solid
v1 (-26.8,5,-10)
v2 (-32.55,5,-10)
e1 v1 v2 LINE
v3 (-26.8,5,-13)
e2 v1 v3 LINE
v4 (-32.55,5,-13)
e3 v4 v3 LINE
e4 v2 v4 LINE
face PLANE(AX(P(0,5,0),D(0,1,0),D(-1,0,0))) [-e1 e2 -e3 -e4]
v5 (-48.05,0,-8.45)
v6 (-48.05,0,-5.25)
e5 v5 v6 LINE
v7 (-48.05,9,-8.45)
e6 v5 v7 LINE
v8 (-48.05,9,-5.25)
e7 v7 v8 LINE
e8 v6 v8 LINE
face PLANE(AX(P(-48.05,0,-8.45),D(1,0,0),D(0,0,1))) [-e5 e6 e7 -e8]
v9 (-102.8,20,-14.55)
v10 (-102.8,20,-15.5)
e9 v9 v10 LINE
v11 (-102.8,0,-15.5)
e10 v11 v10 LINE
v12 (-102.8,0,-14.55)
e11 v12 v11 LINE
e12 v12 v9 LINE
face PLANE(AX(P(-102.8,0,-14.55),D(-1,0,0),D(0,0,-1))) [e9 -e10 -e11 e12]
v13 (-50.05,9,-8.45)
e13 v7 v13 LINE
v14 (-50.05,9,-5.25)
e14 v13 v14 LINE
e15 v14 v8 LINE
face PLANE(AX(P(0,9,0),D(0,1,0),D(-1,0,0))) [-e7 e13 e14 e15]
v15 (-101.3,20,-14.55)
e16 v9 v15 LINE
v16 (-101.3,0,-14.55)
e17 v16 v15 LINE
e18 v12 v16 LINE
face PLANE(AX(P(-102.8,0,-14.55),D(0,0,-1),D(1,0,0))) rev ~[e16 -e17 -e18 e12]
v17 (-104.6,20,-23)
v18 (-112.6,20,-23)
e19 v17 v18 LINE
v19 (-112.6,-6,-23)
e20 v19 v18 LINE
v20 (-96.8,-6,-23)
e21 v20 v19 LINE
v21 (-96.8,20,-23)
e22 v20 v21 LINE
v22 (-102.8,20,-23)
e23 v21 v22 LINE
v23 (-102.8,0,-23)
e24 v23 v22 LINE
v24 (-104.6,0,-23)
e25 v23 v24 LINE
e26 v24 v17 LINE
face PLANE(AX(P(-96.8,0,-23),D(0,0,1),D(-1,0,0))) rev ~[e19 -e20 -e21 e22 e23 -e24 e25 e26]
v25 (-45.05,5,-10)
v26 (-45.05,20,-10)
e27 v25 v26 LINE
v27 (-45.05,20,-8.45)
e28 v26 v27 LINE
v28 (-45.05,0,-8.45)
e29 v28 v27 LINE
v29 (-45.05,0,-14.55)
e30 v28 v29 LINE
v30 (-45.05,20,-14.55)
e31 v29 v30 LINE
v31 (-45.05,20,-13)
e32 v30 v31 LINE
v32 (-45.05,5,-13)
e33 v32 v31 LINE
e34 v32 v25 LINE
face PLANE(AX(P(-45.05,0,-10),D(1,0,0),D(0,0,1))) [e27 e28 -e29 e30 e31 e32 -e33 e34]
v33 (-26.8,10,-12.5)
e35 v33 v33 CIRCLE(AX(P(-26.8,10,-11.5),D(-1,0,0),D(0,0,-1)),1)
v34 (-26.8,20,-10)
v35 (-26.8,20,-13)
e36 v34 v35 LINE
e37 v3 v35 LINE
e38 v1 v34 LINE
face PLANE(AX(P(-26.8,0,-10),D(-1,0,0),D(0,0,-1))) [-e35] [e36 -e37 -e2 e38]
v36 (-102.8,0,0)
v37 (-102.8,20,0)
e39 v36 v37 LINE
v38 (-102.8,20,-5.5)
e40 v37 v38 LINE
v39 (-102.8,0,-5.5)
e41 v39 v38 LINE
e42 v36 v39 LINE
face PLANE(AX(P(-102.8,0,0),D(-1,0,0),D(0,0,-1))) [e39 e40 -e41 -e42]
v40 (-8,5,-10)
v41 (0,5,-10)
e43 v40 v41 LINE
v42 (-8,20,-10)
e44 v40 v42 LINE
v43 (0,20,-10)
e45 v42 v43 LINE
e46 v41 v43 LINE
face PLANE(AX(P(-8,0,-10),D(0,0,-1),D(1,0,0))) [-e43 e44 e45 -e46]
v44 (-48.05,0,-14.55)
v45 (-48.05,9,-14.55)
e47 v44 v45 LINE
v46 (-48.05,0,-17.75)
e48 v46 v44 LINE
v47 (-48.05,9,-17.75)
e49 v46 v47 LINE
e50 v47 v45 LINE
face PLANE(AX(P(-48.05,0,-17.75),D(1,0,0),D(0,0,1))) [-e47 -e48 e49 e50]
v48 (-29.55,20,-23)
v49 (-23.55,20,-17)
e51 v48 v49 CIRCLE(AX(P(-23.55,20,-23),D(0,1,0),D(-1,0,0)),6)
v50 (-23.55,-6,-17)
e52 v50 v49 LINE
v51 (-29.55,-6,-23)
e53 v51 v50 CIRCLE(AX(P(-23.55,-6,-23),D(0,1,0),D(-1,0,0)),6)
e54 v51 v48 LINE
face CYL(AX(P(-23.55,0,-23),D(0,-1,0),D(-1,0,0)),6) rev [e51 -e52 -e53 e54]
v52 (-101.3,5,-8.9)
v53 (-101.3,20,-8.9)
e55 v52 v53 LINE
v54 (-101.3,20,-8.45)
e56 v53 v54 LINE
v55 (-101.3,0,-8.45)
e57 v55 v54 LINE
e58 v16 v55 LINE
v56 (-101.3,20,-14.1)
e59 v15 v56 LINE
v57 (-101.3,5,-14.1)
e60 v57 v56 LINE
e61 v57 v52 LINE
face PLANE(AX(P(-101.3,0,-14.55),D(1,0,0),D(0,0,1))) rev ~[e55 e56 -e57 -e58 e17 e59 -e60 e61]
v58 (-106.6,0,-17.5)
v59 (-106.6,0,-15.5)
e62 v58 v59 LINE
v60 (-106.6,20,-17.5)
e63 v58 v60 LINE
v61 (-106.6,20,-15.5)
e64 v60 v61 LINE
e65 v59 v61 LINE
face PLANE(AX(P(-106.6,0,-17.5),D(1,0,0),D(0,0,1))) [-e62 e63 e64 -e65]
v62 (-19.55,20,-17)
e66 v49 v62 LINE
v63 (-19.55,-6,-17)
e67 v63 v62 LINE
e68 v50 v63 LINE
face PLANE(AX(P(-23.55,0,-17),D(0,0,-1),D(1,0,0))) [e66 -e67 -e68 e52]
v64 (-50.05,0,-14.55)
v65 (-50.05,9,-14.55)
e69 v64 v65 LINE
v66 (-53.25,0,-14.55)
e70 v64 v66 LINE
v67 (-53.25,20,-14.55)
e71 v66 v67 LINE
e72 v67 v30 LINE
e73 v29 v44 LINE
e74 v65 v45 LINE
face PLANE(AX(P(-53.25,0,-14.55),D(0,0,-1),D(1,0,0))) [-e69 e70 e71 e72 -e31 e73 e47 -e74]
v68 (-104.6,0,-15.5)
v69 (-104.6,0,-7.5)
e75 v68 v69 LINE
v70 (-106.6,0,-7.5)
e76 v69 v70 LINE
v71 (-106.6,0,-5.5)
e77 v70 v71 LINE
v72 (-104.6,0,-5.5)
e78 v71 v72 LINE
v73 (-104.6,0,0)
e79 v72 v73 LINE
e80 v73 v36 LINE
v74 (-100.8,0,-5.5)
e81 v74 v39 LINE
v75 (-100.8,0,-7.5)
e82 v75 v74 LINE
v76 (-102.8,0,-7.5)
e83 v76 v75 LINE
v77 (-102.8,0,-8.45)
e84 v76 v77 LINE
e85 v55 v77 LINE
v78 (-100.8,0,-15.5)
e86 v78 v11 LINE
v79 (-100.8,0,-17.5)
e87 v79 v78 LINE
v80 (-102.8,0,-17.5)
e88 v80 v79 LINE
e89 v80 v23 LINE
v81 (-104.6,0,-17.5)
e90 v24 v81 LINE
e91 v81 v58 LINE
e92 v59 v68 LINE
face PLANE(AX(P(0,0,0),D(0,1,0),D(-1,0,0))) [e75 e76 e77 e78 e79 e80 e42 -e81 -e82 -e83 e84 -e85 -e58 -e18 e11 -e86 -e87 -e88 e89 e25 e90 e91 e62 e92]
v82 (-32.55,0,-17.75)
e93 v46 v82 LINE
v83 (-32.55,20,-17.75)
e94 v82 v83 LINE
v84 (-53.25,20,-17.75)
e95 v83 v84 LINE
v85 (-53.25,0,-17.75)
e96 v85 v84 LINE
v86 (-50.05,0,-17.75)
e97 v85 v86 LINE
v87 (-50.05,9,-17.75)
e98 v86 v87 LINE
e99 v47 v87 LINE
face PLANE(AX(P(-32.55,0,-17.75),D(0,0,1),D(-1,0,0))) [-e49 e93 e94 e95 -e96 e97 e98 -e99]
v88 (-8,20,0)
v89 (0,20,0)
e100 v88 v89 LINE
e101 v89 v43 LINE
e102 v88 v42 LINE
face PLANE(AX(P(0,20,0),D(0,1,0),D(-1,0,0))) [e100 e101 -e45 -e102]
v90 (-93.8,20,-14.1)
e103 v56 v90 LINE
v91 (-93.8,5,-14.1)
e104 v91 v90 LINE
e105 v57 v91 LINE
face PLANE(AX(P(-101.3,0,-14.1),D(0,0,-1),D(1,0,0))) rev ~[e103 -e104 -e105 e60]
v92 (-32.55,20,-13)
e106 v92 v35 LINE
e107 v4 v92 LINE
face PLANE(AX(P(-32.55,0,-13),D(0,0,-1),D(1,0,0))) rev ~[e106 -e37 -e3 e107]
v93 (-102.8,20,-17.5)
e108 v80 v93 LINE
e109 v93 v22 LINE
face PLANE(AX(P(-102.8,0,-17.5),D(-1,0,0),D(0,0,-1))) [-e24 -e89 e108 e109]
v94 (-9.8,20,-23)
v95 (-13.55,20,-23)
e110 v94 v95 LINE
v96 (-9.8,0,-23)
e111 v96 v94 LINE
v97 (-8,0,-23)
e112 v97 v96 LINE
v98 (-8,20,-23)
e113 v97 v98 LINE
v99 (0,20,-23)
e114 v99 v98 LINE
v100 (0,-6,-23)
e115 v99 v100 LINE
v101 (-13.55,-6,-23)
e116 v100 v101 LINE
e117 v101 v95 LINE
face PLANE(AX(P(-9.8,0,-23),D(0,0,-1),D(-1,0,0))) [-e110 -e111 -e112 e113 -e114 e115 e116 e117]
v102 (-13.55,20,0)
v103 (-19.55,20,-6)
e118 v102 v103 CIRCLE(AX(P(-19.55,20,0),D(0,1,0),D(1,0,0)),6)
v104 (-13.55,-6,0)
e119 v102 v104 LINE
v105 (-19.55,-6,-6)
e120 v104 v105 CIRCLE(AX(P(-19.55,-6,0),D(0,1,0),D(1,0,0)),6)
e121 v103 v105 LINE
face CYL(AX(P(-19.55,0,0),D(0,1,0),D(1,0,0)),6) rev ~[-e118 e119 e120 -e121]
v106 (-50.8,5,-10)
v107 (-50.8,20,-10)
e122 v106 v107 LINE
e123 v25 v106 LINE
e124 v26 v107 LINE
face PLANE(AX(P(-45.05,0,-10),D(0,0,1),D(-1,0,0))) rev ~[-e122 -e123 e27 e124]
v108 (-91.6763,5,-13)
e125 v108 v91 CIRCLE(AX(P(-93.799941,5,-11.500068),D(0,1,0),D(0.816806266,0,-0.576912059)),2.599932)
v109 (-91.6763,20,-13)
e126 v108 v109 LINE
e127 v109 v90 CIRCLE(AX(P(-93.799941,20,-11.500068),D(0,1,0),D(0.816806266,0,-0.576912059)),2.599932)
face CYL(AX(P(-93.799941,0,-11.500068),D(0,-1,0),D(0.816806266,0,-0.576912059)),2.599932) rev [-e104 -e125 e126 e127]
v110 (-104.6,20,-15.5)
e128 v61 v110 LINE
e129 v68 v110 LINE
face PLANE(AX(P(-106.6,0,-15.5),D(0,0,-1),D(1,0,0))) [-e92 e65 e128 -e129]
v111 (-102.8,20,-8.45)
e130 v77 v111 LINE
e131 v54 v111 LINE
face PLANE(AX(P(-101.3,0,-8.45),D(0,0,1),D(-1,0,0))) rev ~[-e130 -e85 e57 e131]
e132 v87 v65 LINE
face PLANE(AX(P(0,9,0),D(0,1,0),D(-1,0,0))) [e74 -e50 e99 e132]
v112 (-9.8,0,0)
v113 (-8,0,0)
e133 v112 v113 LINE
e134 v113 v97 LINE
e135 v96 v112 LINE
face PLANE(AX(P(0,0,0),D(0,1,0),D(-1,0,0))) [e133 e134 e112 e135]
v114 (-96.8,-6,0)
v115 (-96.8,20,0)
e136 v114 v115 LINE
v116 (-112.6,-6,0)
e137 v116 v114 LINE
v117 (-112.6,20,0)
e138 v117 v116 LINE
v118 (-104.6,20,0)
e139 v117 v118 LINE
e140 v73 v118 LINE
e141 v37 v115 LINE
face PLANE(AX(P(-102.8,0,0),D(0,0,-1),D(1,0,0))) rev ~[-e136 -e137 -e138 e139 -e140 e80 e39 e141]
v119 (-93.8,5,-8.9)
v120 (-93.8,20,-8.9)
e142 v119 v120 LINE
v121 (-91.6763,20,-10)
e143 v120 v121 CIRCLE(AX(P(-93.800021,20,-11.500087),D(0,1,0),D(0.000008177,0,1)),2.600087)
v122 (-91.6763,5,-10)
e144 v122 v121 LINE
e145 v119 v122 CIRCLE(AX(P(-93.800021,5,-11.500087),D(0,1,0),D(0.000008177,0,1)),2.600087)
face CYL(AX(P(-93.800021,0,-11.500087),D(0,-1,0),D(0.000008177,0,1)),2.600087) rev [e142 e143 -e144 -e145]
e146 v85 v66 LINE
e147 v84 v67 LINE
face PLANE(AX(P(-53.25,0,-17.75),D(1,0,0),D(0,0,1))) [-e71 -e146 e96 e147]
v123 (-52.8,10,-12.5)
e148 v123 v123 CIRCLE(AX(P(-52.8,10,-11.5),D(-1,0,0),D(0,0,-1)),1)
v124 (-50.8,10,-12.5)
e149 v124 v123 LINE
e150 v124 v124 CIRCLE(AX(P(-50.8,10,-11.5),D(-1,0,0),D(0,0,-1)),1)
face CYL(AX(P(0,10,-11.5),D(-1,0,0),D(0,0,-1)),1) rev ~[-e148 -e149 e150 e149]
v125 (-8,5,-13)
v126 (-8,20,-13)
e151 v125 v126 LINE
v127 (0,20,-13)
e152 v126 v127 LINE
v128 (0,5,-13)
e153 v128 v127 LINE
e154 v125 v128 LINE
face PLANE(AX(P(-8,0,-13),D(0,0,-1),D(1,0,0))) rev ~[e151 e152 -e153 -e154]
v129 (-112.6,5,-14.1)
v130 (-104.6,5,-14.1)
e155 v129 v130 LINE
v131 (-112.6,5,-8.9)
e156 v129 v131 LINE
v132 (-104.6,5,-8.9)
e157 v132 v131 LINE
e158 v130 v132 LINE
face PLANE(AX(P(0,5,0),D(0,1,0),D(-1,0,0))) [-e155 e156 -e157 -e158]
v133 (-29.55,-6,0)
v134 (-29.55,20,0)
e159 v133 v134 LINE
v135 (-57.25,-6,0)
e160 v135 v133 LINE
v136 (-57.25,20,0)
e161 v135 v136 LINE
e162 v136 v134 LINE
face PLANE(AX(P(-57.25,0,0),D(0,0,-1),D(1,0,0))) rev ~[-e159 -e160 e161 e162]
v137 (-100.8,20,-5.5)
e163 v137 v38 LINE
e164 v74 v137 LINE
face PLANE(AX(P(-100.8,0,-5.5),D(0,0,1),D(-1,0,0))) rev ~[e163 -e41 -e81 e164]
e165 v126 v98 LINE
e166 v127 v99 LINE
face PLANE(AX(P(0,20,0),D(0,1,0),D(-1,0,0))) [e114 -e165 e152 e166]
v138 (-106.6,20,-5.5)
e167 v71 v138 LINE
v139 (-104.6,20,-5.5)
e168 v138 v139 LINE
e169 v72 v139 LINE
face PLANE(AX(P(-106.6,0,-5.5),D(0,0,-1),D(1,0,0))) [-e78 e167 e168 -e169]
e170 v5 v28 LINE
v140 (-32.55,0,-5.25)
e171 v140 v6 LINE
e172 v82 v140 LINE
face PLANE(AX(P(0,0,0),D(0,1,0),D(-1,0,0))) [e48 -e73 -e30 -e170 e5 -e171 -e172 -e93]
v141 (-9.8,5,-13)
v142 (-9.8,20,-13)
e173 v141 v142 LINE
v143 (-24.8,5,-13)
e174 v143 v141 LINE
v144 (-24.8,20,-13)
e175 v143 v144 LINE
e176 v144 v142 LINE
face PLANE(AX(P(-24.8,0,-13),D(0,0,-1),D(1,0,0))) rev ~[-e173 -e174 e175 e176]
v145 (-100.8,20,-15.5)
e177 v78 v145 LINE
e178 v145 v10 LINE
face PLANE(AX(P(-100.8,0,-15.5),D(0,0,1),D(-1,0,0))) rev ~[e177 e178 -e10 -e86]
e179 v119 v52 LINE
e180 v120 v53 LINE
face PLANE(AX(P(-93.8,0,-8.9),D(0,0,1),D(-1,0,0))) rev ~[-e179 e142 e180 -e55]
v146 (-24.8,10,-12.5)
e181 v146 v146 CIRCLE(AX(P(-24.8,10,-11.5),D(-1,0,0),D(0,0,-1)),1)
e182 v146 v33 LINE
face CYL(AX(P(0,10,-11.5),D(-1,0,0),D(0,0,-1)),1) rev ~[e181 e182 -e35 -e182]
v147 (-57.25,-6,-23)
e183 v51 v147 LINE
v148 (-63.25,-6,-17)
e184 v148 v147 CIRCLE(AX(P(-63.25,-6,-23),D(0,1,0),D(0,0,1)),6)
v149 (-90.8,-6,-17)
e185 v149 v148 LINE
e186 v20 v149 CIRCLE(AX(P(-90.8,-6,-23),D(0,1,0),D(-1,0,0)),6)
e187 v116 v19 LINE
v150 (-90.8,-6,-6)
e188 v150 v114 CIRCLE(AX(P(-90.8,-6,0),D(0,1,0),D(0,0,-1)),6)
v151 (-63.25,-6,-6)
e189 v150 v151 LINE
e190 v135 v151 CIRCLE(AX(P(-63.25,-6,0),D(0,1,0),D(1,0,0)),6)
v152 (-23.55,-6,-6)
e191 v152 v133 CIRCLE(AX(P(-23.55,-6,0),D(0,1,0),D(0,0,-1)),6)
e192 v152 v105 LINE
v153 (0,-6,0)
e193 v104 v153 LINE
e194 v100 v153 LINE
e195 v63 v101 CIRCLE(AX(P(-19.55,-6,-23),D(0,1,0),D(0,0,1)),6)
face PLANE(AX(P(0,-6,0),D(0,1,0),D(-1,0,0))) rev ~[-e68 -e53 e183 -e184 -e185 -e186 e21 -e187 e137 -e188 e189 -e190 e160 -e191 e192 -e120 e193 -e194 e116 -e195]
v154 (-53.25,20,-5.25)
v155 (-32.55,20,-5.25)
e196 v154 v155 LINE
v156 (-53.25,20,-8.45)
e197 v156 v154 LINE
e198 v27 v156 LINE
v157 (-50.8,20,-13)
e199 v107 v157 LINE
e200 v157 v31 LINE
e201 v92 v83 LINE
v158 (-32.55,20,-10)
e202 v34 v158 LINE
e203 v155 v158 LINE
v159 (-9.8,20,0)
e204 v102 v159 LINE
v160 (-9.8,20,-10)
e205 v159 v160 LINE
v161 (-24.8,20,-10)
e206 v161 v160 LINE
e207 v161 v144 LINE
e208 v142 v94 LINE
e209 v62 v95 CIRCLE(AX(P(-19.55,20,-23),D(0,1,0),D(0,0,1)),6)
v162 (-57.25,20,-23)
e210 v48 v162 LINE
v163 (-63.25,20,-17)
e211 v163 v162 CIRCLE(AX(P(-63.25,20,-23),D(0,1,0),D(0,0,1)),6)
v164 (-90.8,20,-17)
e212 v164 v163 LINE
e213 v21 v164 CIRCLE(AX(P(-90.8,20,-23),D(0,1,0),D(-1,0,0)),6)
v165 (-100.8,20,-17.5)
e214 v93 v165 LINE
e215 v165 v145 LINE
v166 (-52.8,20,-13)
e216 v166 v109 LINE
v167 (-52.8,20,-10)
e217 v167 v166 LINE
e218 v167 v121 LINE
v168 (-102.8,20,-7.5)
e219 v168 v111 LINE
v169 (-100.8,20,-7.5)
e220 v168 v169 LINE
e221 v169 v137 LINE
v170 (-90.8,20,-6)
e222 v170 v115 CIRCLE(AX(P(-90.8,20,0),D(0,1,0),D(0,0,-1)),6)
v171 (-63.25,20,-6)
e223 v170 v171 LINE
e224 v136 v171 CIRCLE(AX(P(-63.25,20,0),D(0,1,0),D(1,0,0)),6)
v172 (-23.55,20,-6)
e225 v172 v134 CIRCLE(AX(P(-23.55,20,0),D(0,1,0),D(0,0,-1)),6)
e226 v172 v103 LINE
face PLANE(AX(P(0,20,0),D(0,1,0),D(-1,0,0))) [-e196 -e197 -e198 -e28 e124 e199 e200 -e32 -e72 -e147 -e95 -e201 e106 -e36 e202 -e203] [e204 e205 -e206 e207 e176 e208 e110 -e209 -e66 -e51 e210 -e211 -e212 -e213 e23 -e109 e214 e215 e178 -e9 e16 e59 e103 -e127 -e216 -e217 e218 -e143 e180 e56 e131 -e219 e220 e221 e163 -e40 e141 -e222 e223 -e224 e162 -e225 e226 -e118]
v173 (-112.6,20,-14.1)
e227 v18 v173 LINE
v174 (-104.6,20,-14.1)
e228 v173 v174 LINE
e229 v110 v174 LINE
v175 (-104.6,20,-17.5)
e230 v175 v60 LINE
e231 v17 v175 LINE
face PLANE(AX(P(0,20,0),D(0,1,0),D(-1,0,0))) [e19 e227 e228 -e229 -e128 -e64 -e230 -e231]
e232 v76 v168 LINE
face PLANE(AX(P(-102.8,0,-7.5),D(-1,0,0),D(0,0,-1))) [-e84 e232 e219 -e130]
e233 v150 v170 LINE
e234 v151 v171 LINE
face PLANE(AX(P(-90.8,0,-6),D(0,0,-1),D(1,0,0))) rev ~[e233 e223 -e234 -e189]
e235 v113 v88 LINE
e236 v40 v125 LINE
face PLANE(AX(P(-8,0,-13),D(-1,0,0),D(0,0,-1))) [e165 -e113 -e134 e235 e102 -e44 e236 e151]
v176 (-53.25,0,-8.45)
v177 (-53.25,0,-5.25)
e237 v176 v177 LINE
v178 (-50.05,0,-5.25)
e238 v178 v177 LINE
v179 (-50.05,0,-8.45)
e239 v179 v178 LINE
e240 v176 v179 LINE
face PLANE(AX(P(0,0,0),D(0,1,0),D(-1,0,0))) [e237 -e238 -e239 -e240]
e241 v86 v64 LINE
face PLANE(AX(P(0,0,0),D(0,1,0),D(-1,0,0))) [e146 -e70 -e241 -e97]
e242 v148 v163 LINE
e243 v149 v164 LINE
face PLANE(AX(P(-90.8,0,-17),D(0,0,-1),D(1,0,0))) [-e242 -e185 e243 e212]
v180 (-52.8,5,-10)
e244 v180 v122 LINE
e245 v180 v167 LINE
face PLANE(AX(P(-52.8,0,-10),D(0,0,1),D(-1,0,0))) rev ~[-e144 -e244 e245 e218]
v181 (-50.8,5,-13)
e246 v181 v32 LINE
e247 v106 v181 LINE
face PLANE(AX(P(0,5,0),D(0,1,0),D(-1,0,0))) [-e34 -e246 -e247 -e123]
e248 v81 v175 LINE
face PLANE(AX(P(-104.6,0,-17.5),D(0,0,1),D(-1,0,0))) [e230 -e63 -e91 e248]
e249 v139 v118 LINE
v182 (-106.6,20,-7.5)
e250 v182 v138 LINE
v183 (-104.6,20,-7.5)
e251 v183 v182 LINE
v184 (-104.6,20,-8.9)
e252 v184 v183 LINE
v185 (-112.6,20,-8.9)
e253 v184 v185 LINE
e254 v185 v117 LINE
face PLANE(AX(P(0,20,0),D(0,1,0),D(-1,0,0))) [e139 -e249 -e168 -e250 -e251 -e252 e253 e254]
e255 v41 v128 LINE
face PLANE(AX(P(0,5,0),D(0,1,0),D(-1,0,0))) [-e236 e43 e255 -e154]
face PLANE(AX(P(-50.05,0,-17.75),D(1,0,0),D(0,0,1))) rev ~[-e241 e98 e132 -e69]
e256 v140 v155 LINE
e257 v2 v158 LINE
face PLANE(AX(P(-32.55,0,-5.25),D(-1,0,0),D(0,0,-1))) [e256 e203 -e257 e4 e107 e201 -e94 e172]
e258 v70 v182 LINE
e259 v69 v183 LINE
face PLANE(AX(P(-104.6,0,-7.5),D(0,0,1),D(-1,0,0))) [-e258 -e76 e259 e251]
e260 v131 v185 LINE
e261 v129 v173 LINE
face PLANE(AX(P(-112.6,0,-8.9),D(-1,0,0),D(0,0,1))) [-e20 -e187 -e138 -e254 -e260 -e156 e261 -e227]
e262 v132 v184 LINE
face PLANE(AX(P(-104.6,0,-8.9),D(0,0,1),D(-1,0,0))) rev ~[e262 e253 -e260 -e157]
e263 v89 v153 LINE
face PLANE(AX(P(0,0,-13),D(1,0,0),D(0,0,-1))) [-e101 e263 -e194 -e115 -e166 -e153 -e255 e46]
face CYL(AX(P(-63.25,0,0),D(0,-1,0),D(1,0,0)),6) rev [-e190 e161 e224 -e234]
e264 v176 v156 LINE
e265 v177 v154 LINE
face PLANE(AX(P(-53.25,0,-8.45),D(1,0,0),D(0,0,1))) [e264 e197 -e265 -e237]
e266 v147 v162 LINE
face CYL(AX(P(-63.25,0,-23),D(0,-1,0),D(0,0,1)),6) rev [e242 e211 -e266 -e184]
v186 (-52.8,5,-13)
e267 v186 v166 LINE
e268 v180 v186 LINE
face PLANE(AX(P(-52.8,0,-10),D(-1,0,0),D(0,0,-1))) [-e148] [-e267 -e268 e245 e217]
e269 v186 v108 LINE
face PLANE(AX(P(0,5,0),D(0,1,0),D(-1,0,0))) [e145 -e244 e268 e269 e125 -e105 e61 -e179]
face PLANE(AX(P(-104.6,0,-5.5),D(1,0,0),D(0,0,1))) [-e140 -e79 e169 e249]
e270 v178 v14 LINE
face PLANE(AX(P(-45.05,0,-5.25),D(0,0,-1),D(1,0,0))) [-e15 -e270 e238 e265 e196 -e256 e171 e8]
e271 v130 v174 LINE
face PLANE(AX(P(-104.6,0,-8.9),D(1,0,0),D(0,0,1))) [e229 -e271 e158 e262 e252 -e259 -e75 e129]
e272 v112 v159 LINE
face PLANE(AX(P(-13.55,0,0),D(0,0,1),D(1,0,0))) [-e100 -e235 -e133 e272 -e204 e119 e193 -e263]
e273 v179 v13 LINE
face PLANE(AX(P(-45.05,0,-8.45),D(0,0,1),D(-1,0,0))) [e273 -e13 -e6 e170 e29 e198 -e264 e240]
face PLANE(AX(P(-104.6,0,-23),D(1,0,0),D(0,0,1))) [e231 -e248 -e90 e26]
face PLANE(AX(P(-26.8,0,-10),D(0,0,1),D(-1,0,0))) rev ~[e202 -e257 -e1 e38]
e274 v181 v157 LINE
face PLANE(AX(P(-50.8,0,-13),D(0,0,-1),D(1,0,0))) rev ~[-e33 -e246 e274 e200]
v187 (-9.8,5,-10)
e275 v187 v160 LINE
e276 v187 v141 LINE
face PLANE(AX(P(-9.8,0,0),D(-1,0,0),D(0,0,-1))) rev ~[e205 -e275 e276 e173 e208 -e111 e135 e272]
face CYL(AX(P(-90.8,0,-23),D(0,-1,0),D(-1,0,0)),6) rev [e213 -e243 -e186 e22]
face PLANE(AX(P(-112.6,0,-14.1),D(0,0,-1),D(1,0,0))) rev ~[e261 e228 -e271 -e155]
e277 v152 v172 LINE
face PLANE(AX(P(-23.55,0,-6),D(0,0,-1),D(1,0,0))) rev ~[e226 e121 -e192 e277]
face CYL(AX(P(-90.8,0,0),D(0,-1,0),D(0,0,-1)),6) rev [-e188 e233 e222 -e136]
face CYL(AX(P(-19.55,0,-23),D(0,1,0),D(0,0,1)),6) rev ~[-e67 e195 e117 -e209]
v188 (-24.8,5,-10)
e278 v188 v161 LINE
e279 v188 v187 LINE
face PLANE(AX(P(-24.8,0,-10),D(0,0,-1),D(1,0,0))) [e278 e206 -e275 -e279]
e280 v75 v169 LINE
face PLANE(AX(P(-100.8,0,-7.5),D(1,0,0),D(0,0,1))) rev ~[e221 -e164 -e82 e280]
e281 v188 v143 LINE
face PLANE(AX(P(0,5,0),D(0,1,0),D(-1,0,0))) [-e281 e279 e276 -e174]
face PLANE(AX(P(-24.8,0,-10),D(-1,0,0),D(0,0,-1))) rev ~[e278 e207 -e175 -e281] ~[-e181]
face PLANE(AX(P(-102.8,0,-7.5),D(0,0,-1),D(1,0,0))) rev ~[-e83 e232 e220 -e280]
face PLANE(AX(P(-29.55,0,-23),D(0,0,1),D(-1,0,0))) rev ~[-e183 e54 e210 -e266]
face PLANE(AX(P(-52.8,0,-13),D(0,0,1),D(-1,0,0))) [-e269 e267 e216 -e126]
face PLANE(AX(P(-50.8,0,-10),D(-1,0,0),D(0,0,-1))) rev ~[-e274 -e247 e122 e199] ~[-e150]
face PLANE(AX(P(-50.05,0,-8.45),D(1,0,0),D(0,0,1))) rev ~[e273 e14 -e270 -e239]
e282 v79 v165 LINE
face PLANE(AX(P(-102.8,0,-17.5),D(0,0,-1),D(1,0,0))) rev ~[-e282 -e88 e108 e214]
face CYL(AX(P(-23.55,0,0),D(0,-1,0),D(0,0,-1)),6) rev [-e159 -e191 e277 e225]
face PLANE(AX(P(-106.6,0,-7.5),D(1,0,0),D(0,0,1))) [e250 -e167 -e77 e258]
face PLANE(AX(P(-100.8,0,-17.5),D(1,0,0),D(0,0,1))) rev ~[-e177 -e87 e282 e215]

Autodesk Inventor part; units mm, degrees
ref_plane "YZ Plane" through (0, 0, 0) normal (1, 0, 0) x (0, 1, 0)
ref_plane "XZ Plane" through (0, 0, 0) normal (0, 1, 0) x (-1, 0, 0)
ref_plane "XY Plane" through (0, 0, 0) normal (0, 0, 1) x (1, 0, 0)
sketch "Sketch1" plane through (0, 0, 0) normal (0, 1, 0) x (-1, 0, 0)
  line L0 (45.05, -5.25) -> (32.55, -5.25)
  line L1 (32.55, -5.25) -> (32.55, -17.75)
  line L2 (32.55, -17.75) -> (45.05, -17.75)
  line L3 (45.05, -17.75) -> (45.05, -5.25)
  line L4 (0, 0) -> (0, -23)
  line L5 (112.6, -23) -> (112.6, 0)
  line L6 (77.3838, -11.5) -> (49.3838, -11.5) construction
  line L7 (38.8, -2.0322) -> (38.8, -23.0322) construction
  line L8 (93.8, -8.9) -> (112.6, -8.9)
  line L9 (112.6, -14.1) -> (93.8, -14.1)
  line L10 (9.8, 0) -> (9.8, -23)
  line L11 (8, 0) -> (8, -23)
  line L12 (24.8, -10) -> (0, -10)
  line L13 (24.8, -13) -> (0, -13)
  line L14 (102.8, -14.55) -> (101.3, -14.55)
  line L15 (101.3, -14.55) -> (101.3, -8.45)
  line L16 (101.3, -8.45) -> (102.8, -8.45)
  line L17 (50.8, -10) -> (50.8, -13)
  line L18 (50.8, -13) -> (45.05, -13)
  line L19 (45.05, -10) -> (50.8, -10)
  line L20 (32.55, -13) -> (26.8, -13)
  line L21 (26.8, -10) -> (32.55, -10)
  line L22 (102.8, -17.5) -> (100.8, -17.5)
  line L23 (100.8, -17.5) -> (100.8, -15.5)
  line L24 (100.8, -15.5) -> (102.8, -15.5)
  line L25 (102.8, -7.5) -> (100.8, -7.5)
  line L26 (100.8, -7.5) -> (100.8, -5.5)
  line L27 (100.8, -5.5) -> (102.8, -5.5)
  line L28 (137, -16.5) -> (122.5716, -16.5) construction
  line L29 (137, -6.5) -> (123, -6.5) construction
  line L30 (104.6, -17.5) -> (106.6, -17.5)
  line L31 (106.6, -17.5) -> (106.6, -15.5)
  line L32 (106.6, -15.5) -> (104.6, -15.5)
  line L33 (104.6, -7.5) -> (106.6, -7.5)
  line L34 (106.6, -7.5) -> (106.6, -5.5)
  line L35 (106.6, -5.5) -> (104.6, -5.5)
  line L36 (104.6, -23) -> (104.6, -17.5)
  line L37 (102.8, -17.5) -> (102.8, -23)
  line L38 (104.6, -15.5) -> (104.6, -7.5)
  line L39 (104.6, -5.5) -> (104.6, 0)
  line L40 (102.8, 0) -> (102.8, -5.5)
  line L41 (102.8, -7.5) -> (102.8, -15.5)
  line L42 (45.05, -17.75) -> (53.25, -17.75)
  line L43 (53.25, -17.75) -> (53.25, -14.55)
  line L44 (53.25, -14.55) -> (45.05, -14.55)
  line L45 (45.05, -8.45) -> (53.25, -8.45)
  line L46 (53.25, -8.45) -> (53.25, -5.25)
  line L47 (53.25, -5.25) -> (45.05, -5.25)
  line L48 (48.05, -17.75) -> (48.05, -14.55)
  line L49 (50.05, -17.75) -> (50.05, -14.55)
  line L50 (50.05, -8.45) -> (50.05, -5.25)
  line L51 (48.05, -8.45) -> (48.05, -5.25)
  line L52 (52.8, -10) -> (52.8, -13)
  line L53 (26.8, -10) -> (26.8, -13)
  line L54 (24.8, -10) -> (24.8, -13)
  line L55 (52.8, -13) -> (91.6763, -13)
  line L56 (52.8, -10) -> (91.6763, -10)
  arc A0 (93.8, -8.9) -> (91.6763, -10) centre (93.8, -11.5) ccw
  arc A1 (91.6763, -13) -> (93.8, -14.1) centre (93.8, -11.5) ccw
  arc A2 (96.8, -23) -> (90.8, -17) centre (90.8, -23) ccw
  arc A3 (63.25, -17) -> (57.25, -23) centre (63.25, -23) ccw
  arc A4 (90.8, -6) -> (96.8, 0) centre (90.8, 0) ccw
  arc A5 (57.25, 0) -> (63.25, -6) centre (63.25, 0) ccw
  line L57 (90.8, -17) -> (63.25, -17)
  line L58 (90.8, -6) -> (63.25, -6)
  line L59 (112.6, 0) -> (96.8, 0)
  line L60 (96.8, -23) -> (112.6, -23)
  arc A6 (29.55, -23) -> (23.55, -17) centre (23.55, -23) ccw
  arc A7 (23.55, -6) -> (29.55, 0) centre (23.55, 0) ccw
  arc A8 (19.55, -17) -> (13.55, -23) centre (19.55, -23) ccw
  arc A9 (13.55, 0) -> (19.55, -6) centre (19.55, 0) ccw
  line L61 (23.55, -6) -> (19.55, -6)
  line L62 (23.55, -17) -> (19.55, -17)
  line L63 (0, -23) -> (13.55, -23)
  line L64 (29.55, -23) -> (57.25, -23)
  line L65 (57.25, 0) -> (29.55, 0)
  line L66 (13.55, 0) -> (0, 0)
  line L67 (115.3, -25) -> (115.3, 2)
  line L68 (-2.7, 2) -> (-2.7, -25)
  arc A10 (65.25, -19) -> (59.25, -25) centre (65.25, -25) ccw
  arc A11 (94.8, -25) -> (88.8, -19) centre (88.8, -25) ccw
  line L69 (56.3, -20.25) -> (56.3, -1) construction
  arc A12 (59.25, 2) -> (65.25, -4) centre (65.25, 2) ccw
  arc A13 (88.8, -4) -> (94.8, 2) centre (88.8, 2) ccw
  arc A14 (15.55, 2) -> (27.55, 2) centre (21.55, 2) ccw
  arc A15 (27.55, -25) -> (15.55, -25) centre (21.55, -25) ccw
  line L70 (88.8, -19) -> (65.25, -19)
  line L71 (88.8, -4) -> (65.25, -4)
  line L72 (115.3, 2) -> (94.8, 2)
  line L73 (94.8, -25) -> (115.3, -25)
  line L74 (-2.7, -25) -> (15.55, -25)
  line L75 (27.55, -25) -> (59.25, -25)
  line L76 (59.25, 2) -> (27.55, 2)
  line L77 (15.55, 2) -> (-2.7, 2)
  point P0 (104.6, -8.9)
  point P1 (104.6, -14.1)
  point P2 (102.8, -8.9)
  point P3 (102.8, -14.1)
  point P4 (9.8, -13)
  point P5 (8, -13)
  point P6 (8, -10)
  point P7 (9.8, -10)
  point P8 (38.8, -11.5)
  point P9 (101.3, -14.1)
  point P10 (101.3, -8.9)
  dimension "d0" = 12.5
  dimension "d1" = 12.5
  dimension "d3" = 23
  dimension "d12" = 5.2
  dimension "d20" = 1.8
  dimension "d25" = 3
  dimension "d36" = 6.1
  dimension "d37" = 1.5
  dimension "d62" = 3
  dimension "d63" = 3
  dimension "d94" = 2
  dimension "d95" = 2
  dimension "d96" = 10
  dimension "d97" = 1.8
  dimension "d106" = 8.2
  dimension "d107" = 3
  dimension "d108" = 2
  dimension "d109" = 3.2
  dimension "d113" = 1.5
  dimension "d114" = 2
  dimension "d115" = 64
  dimension "d116" = 29
  dimension "d117" = 8
  dimension "d118" = 8
  dimension "d119" = 2
  dimension "d120" = 12
  dimension "d121" = 12
  dimension "d122" = 9
  dimension "d129" = 12
  dimension "d130" = 12
  dimension "d131" = 10
  dimension "d134" = 9
  dimension "d135" = 4
  dimension "d149" = 118
  dimension "d150" = 27
  dimension "d152" = 11
  dimension "d153" = 12
  dimension "d154" = 14
extrude "Extrusion16" add sketch "Sketch1" against normal blind 6 contours L3 L2 L1 L0 | L47 L51 L45 L3 | L47 L50 L45 L51 | L1 L20 L53 L21 | L19 L17 L18 L3 | L47 L46 L45 L50 | L44 L48 L42 L3 | L44 L49 L42 L48 | L44 L43 L42 L49 | L66 L11 L12 L4 | L12 L11 L13 L4 | L66 L10 L12 L11 | L13 L11 L63 L4 | L12 L10 L13 L11 | L66 A9 L61 A7 L65 A5 L58 A4 L59 L40 L27 L26 L25 L41 L16 L15 L8 A0 L56 L52 L55 A1 L9 L14 L24 L23 L22 L37 L60 A2 L57 A3 L64 A6 L62 A8 L63 L10 L13 L54 L12 | L13 L10 L63 L11 | L12 L54 L13 L10 | L59 L39 L35 L34 L33 L38 L8 L41 L25 L26 L27 L40 | L59 L5 L8 L38 L33 L34 L35 L39 | L37 L22 L23 L24 L41 L9 L38 L32 L31 L30 L36 L60 | L5 L9 L38 L8 | L36 L30 L31 L32 L38 L9 L5 L60 | L38 L9 L41 L8 | L41 L8 L15 L16 | L41 L9 L15 L8 | L41 L14 L15 L9 | L15 L9 A1 L55 L52 L56 A0 L8
extrude "Extrusion17" add sketch "Sketch1" along normal blind 20 contours L66 L11 L12 L4 | L13 L11 L63 L4 | L66 A9 L61 A7 L65 A5 L58 A4 L59 L40 L27 L26 L25 L41 L16 L15 L8 A0 L56 L52 L55 A1 L9 L14 L24 L23 L22 L37 L60 A2 L57 A3 L64 A6 L62 A8 L63 L10 L13 L54 L12 | L59 L5 L8 L38 L33 L34 L35 L39 | L36 L30 L31 L32 L38 L9 L5 L60
extrude "Extrusion18" add sketch "Sketch1" along normal blind 5 contours L1 L20 L53 L21 | L19 L17 L18 L3 | L12 L11 L13 L4 | L12 L54 L13 L10 | L5 L9 L38 L8 | L15 L9 A1 L55 L52 L56 A0 L8
extrude "Extrusion19" add sketch "Sketch1" along normal blind 9 contours L47 L50 L45 L51 | L44 L49 L42 L48
sketch "Sketch2" plane through (0, -6, 0) normal (1, 0, 0) x (0, 0, -1)
  line L0 (11.5, 16) -> (11.5, 6.397) construction
  line L1 (0, 6) -> (23, 6) construction
  line L2 (0, 1.5617) -> (0, -5) construction
  line L3 (23, -1.6862) -> (23, -8) construction
  point P0 (11.5, 16)
  dimension "d139" = 10
hole "Hole1" at (0, 10, -11.5) direction (-1, 0, 0) diameter 2 end through all
properties part number "Spirulina_prototype2"
